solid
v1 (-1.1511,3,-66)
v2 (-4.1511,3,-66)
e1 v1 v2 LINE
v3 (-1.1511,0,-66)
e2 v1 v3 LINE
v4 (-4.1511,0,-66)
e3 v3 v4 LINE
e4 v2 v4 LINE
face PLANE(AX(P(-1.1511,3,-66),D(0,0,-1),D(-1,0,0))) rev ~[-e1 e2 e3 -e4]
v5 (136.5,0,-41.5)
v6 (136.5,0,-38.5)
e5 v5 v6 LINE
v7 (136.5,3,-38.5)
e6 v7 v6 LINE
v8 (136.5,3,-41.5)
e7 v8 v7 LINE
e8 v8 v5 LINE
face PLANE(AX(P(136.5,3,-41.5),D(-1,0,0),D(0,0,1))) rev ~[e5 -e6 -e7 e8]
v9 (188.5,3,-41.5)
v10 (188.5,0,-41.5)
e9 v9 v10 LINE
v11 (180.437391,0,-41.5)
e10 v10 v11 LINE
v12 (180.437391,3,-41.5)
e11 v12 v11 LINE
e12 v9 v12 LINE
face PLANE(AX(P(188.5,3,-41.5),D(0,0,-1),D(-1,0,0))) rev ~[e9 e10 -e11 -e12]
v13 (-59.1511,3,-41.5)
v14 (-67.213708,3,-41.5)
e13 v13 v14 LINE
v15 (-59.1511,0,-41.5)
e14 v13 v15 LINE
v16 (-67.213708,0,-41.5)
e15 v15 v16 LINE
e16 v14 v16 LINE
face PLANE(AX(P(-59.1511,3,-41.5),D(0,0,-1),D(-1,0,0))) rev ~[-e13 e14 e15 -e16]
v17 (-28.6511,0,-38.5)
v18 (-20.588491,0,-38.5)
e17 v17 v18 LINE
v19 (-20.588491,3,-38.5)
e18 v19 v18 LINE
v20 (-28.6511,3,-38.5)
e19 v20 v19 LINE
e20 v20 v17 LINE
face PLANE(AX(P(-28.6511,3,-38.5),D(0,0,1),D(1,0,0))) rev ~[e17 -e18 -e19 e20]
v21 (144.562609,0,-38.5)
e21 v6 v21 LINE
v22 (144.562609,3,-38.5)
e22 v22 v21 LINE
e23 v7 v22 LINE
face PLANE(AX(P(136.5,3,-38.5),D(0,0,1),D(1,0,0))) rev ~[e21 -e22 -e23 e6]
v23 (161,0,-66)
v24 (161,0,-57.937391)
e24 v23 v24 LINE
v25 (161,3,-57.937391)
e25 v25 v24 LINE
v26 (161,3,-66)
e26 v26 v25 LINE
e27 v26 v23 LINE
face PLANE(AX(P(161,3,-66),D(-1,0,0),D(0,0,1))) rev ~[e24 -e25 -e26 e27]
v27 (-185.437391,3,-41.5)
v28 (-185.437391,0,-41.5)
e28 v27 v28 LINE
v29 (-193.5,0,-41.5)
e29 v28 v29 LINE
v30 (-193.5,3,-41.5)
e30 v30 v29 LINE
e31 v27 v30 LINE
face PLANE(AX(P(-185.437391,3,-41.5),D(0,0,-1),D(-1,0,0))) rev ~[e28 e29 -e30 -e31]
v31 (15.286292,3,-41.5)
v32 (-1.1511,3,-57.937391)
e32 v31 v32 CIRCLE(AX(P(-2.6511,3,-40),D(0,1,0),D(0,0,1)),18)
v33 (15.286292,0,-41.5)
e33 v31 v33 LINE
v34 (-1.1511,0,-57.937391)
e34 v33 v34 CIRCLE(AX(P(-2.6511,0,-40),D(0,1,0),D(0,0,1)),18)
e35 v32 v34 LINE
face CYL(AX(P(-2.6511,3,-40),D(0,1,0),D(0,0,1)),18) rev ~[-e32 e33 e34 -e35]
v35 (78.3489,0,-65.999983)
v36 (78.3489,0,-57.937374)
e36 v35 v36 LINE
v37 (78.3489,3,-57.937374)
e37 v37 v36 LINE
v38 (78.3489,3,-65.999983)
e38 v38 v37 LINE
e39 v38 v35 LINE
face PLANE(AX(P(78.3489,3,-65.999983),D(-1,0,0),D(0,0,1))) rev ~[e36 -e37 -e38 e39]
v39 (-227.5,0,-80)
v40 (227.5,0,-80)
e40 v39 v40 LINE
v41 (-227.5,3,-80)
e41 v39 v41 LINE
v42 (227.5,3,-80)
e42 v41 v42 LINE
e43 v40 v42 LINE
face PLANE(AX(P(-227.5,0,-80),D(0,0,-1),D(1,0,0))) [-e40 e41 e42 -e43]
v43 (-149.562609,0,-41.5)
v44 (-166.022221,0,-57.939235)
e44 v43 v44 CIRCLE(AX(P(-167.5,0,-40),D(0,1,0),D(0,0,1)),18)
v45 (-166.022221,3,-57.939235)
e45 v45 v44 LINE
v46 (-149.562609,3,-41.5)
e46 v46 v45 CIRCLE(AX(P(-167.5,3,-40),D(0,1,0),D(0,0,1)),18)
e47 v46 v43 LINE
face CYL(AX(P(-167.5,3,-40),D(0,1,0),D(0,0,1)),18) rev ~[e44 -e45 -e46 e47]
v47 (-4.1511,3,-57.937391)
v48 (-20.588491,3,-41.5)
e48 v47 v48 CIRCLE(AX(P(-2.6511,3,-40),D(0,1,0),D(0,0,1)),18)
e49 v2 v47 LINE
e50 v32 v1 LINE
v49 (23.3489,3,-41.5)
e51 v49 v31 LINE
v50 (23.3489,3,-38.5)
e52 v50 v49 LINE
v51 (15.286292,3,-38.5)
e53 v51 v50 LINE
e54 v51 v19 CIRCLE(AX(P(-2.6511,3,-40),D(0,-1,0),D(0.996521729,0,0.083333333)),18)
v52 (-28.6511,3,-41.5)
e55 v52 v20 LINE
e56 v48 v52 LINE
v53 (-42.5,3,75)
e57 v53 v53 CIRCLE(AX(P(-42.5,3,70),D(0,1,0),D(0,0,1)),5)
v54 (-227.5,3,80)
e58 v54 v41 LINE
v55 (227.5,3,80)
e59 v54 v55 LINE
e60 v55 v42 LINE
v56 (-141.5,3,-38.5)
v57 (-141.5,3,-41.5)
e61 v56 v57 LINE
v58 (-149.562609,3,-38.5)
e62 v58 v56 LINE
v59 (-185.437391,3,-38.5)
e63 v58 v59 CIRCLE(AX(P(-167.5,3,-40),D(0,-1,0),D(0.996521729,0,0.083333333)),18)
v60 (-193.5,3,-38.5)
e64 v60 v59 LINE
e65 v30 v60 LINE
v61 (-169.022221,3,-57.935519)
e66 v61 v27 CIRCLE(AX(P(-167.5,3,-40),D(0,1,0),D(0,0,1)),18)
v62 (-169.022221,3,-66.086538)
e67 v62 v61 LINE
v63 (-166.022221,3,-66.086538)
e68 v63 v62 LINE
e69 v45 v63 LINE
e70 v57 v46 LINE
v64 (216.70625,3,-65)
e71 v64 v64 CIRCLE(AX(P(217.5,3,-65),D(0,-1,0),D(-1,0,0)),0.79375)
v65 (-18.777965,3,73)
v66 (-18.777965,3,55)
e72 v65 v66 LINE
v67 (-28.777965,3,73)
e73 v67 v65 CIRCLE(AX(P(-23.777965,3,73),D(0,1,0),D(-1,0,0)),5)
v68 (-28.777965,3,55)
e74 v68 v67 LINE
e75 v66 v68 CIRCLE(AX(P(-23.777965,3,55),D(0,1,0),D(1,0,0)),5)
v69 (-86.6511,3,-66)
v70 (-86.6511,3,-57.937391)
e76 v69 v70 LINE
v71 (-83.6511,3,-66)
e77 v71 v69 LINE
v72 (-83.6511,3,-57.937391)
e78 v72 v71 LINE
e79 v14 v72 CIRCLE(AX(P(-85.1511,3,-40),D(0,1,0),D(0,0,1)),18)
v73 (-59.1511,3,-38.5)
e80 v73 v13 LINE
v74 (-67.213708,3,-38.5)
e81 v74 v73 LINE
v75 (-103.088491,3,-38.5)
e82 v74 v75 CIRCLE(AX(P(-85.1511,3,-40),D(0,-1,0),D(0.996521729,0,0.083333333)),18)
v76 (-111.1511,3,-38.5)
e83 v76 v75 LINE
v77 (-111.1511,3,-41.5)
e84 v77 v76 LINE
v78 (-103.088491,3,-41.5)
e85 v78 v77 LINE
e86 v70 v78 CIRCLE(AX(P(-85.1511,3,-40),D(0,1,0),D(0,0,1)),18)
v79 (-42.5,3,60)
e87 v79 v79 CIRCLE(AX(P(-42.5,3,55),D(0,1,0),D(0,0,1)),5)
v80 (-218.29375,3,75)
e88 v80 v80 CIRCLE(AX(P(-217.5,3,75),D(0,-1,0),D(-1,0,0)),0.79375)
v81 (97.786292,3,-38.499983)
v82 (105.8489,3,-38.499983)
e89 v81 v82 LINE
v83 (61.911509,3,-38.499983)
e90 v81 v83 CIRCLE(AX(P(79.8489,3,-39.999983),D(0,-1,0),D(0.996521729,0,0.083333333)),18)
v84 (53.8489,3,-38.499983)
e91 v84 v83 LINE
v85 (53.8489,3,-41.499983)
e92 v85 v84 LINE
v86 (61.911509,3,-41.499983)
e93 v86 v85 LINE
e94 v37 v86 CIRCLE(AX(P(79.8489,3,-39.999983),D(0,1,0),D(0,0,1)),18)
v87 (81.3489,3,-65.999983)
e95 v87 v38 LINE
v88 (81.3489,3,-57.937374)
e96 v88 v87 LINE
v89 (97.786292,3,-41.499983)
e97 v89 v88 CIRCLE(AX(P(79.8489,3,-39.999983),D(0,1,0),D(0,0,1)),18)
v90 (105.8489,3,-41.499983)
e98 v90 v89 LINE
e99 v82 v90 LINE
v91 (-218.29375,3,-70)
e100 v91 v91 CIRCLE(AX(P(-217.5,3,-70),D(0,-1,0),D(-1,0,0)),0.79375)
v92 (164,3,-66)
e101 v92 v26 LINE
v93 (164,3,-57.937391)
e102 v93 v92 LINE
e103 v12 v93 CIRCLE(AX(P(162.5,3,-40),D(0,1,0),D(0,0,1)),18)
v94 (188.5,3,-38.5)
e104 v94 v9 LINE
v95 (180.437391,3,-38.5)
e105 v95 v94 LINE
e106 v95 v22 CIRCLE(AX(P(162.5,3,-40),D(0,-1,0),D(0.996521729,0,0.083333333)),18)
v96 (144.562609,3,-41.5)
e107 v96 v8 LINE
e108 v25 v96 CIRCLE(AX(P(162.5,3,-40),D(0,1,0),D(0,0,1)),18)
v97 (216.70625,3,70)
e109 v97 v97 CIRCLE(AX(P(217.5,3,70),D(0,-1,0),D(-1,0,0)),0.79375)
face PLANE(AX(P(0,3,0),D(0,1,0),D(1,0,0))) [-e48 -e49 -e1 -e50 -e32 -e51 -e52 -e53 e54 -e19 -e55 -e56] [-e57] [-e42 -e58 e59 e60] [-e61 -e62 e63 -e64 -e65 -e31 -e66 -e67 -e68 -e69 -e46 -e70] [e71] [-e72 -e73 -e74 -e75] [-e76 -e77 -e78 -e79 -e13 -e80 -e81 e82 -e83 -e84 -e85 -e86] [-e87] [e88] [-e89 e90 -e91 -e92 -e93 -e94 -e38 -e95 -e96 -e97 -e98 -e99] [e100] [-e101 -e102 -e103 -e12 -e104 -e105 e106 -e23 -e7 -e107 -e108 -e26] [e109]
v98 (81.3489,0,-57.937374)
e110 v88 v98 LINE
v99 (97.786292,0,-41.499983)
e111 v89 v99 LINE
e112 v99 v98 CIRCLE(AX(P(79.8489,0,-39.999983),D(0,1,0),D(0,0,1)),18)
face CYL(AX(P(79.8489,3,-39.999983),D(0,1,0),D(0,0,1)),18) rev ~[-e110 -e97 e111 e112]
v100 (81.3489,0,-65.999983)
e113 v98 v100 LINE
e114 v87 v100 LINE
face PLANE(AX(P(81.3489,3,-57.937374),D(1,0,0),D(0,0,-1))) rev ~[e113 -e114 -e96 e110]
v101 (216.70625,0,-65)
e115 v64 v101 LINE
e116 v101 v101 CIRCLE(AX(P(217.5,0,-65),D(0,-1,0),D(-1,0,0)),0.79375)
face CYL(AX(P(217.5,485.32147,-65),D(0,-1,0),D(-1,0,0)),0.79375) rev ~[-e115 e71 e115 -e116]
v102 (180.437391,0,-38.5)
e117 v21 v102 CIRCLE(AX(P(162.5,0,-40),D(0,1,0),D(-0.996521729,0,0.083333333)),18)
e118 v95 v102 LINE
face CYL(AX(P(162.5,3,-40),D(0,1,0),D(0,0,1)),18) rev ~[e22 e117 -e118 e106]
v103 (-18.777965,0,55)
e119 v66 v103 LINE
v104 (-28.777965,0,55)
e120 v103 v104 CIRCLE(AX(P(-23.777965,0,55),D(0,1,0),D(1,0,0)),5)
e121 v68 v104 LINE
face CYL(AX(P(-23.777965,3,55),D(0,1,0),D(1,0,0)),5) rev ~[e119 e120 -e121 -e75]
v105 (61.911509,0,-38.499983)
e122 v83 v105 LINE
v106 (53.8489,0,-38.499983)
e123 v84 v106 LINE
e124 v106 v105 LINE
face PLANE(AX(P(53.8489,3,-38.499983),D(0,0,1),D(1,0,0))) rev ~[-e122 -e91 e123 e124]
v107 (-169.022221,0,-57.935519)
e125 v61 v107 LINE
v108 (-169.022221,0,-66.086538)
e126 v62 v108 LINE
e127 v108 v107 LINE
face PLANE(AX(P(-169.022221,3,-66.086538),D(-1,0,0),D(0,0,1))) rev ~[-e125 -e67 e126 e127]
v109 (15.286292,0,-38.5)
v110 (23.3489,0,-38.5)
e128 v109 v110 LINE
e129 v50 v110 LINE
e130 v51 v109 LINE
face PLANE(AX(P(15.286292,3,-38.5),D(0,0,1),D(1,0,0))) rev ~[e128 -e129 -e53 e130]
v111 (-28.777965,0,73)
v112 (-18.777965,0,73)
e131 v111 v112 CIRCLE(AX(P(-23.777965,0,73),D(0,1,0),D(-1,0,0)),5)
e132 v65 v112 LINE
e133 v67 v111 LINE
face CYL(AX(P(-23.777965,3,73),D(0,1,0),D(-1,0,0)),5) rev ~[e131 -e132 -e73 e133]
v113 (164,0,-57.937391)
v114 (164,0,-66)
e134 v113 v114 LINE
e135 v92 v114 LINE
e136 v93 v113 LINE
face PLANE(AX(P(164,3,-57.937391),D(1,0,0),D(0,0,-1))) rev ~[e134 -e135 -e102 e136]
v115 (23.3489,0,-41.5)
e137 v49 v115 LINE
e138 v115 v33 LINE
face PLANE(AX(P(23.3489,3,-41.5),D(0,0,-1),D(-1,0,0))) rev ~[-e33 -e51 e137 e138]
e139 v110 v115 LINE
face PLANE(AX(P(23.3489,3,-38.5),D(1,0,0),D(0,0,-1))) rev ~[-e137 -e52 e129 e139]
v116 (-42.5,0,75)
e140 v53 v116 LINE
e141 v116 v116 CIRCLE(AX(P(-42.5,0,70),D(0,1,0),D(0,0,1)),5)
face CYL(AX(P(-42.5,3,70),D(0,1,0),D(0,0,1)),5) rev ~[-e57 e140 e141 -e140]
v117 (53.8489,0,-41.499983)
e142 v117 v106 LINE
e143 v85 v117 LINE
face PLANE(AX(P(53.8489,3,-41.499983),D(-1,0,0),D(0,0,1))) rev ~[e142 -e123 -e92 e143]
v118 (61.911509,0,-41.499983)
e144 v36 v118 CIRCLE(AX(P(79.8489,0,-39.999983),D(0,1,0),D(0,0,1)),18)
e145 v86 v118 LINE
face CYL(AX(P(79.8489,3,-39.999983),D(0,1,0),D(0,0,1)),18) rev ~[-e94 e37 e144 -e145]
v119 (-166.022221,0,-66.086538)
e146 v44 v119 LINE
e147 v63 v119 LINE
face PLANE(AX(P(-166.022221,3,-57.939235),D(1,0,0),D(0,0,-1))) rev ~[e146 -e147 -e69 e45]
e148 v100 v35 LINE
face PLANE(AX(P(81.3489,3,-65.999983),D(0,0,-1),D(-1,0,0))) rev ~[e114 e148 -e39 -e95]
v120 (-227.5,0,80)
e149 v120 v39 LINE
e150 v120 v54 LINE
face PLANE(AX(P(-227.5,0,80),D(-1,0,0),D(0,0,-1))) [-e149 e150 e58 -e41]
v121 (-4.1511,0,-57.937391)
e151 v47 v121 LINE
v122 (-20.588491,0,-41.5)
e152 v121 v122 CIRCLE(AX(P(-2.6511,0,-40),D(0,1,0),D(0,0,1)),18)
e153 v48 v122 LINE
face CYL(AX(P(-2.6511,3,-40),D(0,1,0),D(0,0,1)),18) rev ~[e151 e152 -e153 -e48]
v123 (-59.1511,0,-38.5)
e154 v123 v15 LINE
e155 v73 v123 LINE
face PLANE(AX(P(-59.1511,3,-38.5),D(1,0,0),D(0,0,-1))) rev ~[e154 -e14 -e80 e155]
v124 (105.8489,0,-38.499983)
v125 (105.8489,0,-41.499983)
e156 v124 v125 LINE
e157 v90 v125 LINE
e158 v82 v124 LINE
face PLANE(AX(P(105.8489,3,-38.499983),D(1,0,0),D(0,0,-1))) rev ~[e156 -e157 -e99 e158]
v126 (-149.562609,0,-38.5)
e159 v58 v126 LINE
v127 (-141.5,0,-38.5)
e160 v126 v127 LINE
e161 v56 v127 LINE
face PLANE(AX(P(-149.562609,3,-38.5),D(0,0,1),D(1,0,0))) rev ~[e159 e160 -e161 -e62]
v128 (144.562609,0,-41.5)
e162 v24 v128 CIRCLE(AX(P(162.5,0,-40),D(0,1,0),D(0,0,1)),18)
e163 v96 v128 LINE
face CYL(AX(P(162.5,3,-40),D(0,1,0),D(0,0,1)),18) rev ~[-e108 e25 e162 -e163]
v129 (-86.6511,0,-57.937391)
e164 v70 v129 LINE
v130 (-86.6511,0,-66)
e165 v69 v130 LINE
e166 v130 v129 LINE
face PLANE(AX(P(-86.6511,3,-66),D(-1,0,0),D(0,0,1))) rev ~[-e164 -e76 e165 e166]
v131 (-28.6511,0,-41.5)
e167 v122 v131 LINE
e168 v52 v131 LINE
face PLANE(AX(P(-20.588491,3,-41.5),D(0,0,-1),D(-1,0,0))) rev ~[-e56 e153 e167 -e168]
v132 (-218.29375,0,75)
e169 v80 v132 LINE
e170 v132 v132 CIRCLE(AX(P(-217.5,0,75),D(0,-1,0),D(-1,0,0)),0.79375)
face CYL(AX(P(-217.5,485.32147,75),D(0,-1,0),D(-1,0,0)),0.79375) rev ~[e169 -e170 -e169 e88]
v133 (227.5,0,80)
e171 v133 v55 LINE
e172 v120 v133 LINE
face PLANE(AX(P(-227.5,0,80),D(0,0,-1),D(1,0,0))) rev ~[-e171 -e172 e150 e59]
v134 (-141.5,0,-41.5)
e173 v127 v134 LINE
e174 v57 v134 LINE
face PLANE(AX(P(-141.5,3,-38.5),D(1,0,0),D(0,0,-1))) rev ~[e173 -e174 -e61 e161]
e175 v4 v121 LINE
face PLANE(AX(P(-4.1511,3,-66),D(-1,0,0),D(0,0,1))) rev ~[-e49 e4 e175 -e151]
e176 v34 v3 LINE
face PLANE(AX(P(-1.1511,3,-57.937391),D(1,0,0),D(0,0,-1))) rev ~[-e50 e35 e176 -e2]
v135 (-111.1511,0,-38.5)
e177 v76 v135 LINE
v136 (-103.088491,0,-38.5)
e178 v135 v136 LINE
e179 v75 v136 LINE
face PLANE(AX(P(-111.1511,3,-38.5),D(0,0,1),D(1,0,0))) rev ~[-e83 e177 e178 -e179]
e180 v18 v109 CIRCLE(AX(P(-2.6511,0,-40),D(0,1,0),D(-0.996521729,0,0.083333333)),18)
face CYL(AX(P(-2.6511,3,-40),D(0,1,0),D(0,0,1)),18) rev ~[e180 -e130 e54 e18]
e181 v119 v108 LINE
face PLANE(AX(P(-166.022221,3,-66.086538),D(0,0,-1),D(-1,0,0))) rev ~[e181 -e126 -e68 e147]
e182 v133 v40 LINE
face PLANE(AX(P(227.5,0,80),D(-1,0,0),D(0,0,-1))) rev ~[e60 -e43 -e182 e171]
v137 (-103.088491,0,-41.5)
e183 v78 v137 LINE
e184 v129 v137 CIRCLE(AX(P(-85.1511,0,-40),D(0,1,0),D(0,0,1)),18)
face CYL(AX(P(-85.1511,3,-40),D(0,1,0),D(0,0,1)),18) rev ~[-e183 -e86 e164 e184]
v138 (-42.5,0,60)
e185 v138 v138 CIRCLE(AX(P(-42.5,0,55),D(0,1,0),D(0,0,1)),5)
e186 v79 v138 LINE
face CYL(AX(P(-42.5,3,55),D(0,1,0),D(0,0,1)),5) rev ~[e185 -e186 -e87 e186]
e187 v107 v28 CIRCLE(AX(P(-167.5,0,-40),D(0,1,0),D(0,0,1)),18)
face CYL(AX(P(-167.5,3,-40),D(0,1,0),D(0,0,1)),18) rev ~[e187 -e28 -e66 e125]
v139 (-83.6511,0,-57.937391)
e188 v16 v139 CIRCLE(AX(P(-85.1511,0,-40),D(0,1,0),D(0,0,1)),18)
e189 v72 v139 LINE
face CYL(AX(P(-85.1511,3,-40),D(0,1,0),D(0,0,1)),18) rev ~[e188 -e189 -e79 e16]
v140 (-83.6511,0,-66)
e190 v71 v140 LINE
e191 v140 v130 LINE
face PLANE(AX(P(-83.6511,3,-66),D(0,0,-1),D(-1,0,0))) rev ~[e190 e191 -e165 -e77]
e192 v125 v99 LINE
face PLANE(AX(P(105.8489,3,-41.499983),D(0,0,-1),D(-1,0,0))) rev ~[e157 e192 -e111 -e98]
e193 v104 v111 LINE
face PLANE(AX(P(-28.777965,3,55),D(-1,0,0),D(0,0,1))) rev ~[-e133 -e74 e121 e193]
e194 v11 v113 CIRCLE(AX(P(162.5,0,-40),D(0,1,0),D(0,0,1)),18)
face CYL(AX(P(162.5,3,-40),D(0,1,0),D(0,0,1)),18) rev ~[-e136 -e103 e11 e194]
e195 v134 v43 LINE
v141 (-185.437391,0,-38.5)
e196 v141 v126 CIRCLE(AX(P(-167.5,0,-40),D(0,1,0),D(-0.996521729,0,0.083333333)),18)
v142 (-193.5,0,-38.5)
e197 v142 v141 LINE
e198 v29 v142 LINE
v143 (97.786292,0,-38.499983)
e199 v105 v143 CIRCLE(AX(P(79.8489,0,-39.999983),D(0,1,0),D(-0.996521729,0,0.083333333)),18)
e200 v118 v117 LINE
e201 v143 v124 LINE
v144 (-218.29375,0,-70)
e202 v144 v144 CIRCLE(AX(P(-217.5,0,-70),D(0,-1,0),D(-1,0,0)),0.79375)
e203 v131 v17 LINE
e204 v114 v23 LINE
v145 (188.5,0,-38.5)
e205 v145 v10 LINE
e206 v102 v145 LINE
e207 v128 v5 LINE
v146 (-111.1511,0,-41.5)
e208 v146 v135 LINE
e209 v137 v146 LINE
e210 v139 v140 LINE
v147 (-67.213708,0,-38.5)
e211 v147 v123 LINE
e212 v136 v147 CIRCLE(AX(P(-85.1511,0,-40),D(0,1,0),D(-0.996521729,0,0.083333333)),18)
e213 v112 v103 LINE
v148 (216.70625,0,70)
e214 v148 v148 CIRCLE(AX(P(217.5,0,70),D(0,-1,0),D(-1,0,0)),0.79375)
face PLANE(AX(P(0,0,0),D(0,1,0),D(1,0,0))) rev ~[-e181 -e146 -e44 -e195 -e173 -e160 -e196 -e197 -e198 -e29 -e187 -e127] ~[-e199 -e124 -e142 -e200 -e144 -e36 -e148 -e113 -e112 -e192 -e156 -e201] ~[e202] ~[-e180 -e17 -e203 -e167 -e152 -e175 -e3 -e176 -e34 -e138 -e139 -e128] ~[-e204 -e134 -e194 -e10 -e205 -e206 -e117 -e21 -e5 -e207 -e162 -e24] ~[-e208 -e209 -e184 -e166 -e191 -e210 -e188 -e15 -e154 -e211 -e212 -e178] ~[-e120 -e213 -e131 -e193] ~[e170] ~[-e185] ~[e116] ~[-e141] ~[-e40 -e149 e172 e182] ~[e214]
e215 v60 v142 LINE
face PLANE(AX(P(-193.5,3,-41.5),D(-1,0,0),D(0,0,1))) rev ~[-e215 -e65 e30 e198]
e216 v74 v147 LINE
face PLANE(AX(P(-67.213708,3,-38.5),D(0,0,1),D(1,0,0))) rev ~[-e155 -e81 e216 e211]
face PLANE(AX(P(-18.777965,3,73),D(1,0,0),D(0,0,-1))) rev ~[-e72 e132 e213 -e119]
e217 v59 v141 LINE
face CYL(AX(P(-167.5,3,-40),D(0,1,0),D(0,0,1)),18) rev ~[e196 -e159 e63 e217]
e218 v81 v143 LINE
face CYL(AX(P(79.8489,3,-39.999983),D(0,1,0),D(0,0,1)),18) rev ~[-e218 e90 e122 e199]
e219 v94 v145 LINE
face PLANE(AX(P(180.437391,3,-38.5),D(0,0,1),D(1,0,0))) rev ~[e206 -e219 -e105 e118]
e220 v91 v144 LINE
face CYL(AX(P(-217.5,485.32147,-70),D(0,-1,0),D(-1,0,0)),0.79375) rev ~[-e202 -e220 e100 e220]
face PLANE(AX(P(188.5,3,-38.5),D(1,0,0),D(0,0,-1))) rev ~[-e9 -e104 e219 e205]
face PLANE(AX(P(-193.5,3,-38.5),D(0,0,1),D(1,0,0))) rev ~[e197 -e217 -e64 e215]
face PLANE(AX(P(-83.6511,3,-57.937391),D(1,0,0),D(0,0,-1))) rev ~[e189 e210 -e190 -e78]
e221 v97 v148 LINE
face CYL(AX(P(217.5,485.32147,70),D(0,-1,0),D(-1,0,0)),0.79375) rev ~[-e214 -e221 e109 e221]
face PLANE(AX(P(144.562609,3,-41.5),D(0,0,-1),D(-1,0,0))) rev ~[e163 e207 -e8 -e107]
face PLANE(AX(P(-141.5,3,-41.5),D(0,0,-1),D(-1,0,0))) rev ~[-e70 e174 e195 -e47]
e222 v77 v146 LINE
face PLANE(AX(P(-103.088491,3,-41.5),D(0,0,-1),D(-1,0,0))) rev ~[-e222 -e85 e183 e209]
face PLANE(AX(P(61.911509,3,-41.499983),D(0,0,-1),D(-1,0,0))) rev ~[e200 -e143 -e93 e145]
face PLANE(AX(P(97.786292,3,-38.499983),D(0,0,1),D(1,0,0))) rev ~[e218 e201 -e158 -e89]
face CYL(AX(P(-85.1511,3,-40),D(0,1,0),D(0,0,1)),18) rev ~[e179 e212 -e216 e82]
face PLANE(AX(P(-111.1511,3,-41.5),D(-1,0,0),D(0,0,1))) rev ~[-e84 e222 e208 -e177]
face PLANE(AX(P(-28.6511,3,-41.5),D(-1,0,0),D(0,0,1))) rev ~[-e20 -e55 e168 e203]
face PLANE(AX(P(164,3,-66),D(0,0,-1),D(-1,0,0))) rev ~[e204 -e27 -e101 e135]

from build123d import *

# Parameters (mm, degrees)
SKETCH1_W                      = 455
SKETCH1_H                      = 160
BOSS_EXTRUDE1_DEPTH            = 3
SKETCH2_R                      = 18
SKETCH2_R_2                    = 5
CUT_EXTRUDE1_DEPTH             = 3
F_1_16_0_0625_DIAMETER_HOLE2_D = 1.5875
CUT_EXTRUDE2_DEPTH             = 10
SKETCH7_4_W                    = 3
SKETCH7_4_H                    = 26
CUT_EXTRUDE3_DEPTH             = 10


with BuildPart() as part:
    # Sketch1 → Boss-Extrude1 (new body)
    with BuildSketch(Plane(origin=(0, 0, 0), x_dir=(1, 0, 0), z_dir=(0, 1, 0))):
        Rectangle(SKETCH1_W, SKETCH1_H)
    extrude(amount=BOSS_EXTRUDE1_DEPTH)

    # Sketch2 → Cut-Extrude1 (cut)
    with BuildSketch(Plane(origin=(0, 3, 0), x_dir=(1, 0, 0), z_dir=(0, 1, 0))):
        with Locations((-167.5, 40)):
            Circle(SKETCH2_R)
        with Locations((-85.151099534, 40)):
            Circle(SKETCH2_R)
        with Locations((-2.651099534, 40)):
            Circle(SKETCH2_R)
        with Locations((79.848900466, 39.999983289)):
            Circle(SKETCH2_R)
        with Locations((162.5, 40)):
            Circle(SKETCH2_R)
        with Locations((-42.5, -55)):
            Circle(SKETCH2_R_2)
        with Locations((-42.5, -70)):
            Circle(SKETCH2_R_2)
        with BuildLine():
            Line((-28.777964672, -55), (-28.777964672, -73))
            ThreePointArc((-28.777964672, -73), (-23.777964672, -78), (-18.777964672, -73))
            Line((-18.777964672, -73), (-18.777964672, -55))
            ThreePointArc((-18.777964672, -55), (-23.777964672, -50), (-28.777964672, -55))
        make_face()
    extrude(amount=-CUT_EXTRUDE1_DEPTH, mode=Mode.SUBTRACT)

    # 1/16 (0.0625) Diameter Hole2 (through all)
    with Locations(Plane(origin=(0, 3, 0), x_dir=(1, 0, 0), z_dir=(0, 1, 0))):
        with Locations((-217.5, -75), (-217.5, 70), (217.5, -70), (217.5, 65)):
            Hole(F_1_16_0_0625_DIAMETER_HOLE2_D / 2)

    # Sketch7 → Cut-Extrude2 (cut)
    with BuildSketch(Plane(origin=(0, 3, 0), x_dir=(1, 0, 0), z_dir=(0, 1, 0))):
        with BuildLine():
            Line((-149.562608885, 38.5), (-141.5, 38.5))
            Line((-141.5, 38.5), (-141.5, 41.5))
            Line((-141.5, 41.5), (-149.562608885, 41.5))
            ThreePointArc((-149.562608885, 41.5), (-149.5, 40), (-149.562608885, 38.5))
        make_face()
        with BuildLine():
            Line((-193.5, 38.5), (-185.437391115, 38.5))
            ThreePointArc((-185.437391115, 38.5), (-185.5, 40), (-185.437391115, 41.5))
            Line((-185.437391115, 41.5), (-193.5, 41.5))
            Line((-193.5, 41.5), (-193.5, 38.5))
        make_face()
        with BuildLine():
            ThreePointArc((-169.022220782, 57.935519058), (-167.522298342, 57.999986188), (-166.022220782, 57.939235451))
            Line((-166.022220782, 57.939235451), (-166.022220782, 66.086538462))
            Line((-166.022220782, 66.086538462), (-169.022220782, 66.086538462))
            Line((-169.022220782, 66.086538462), (-169.022220782, 57.935519058))
        make_face()
    extrude(amount=-CUT_EXTRUDE2_DEPTH, mode=Mode.SUBTRACT)

    # Sketch7<4> → Cut-Extrude3 (cut)
    with BuildSketch(Plane(origin=(0, 3, 0), x_dir=(1, 0, 0), z_dir=(0, 1, 0))):
        with BuildLine():
            Line((-111.151099534, 38.5), (-103.088490649, 38.5))
            ThreePointArc((-103.088490649, 38.5), (-103.151099534, 40), (-103.088490649, 41.5))
            Line((-103.088490649, 41.5), (-111.151099534, 41.5))
            Line((-111.151099534, 41.5), (-111.151099534, 38.5))
        make_face()
        with BuildLine():
            ThreePointArc((-67.21370842, 41.5), (-67.151099534, 40), (-67.21370842, 38.5))
            Line((-67.21370842, 38.5), (-59.151099534, 38.5))
            Line((-59.151099534, 38.5), (-59.151099534, 41.5))
            Line((-59.151099534, 41.5), (-67.21370842, 41.5))
        make_face()
        with Locations((-85.151099534, 53)):
            Rectangle(SKETCH7_4_W, SKETCH7_4_H)
        with BuildLine():
            Line((97.78629158, 38.499983289), (105.848900466, 38.499983289))
            Line((105.848900466, 38.499983289), (105.848900466, 41.499983289))
            Line((105.848900466, 41.499983289), (97.78629158, 41.499983289))
            ThreePointArc((97.78629158, 41.499983289), (97.848900466, 39.999983289), (97.78629158, 38.499983289))
        make_face()
        with BuildLine():
            Line((53.848900466, 38.499983289), (61.911509351, 38.499983289))
            ThreePointArc((61.911509351, 38.499983289), (61.848900466, 39.999983289), (61.911509351, 41.499983289))
            Line((61.911509351, 41.499983289), (53.848900466, 41.499983289))
            Line((53.848900466, 41.499983289), (53.848900466, 38.499983289))
        make_face()
        with BuildLine():
            ThreePointArc((78.348900466, 57.937374404), (79.848900466, 57.999983289), (81.348900466, 57.937374404))
            Line((81.348900466, 57.937374404), (81.348900466, 65.999983289))
            Line((81.348900466, 65.999983289), (78.348900466, 65.999983289))
            Line((78.348900466, 65.999983289), (78.348900466, 57.937374404))
        make_face()
        with BuildLine():
            Line((180.437391115, 38.5), (188.5, 38.5))
            Line((188.5, 38.5), (188.5, 41.5))
            Line((188.5, 41.5), (180.437391115, 41.5))
            ThreePointArc((180.437391115, 41.5), (180.5, 40), (180.437391115, 38.5))
        make_face()
        with BuildLine():
            Line((136.5, 38.5), (144.562608885, 38.5))
            ThreePointArc((144.562608885, 38.5), (144.5, 40), (144.562608885, 41.5))
            Line((144.562608885, 41.5), (136.5, 41.5))
            Line((136.5, 41.5), (136.5, 38.5))
        make_face()
        with BuildLine():
            ThreePointArc((161, 57.937391115), (162.5, 58), (164, 57.937391115))
            Line((164, 57.937391115), (164, 66))
            Line((164, 66), (161, 66))
            Line((161, 66), (161, 57.937391115))
        make_face()
        with BuildLine():
            Line((15.28629158, 38.5), (23.348900466, 38.5))
            Line((23.348900466, 38.5), (23.348900466, 41.5))
            Line((23.348900466, 41.5), (15.28629158, 41.5))
            ThreePointArc((15.28629158, 41.5), (15.348900466, 40), (15.28629158, 38.5))
        make_face()
        with BuildLine():
            Line((-28.651099534, 38.5), (-20.588490649, 38.5))
            ThreePointArc((-20.588490649, 38.5), (-20.651099534, 40), (-20.588490649, 41.5))
            Line((-20.588490649, 41.5), (-28.651099534, 41.5))
            Line((-28.651099534, 41.5), (-28.651099534, 38.5))
        make_face()
        with BuildLine():
            ThreePointArc((-4.151099534, 57.937391115), (-2.651099534, 58), (-1.151099534, 57.937391115))
            Line((-1.151099534, 57.937391115), (-1.151099534, 66))
            Line((-1.151099534, 66), (-4.151099534, 66))
            Line((-4.151099534, 66), (-4.151099534, 57.937391115))
        make_face()
    extrude(amount=-CUT_EXTRUDE3_DEPTH, mode=Mode.SUBTRACT)


solid = part.part
